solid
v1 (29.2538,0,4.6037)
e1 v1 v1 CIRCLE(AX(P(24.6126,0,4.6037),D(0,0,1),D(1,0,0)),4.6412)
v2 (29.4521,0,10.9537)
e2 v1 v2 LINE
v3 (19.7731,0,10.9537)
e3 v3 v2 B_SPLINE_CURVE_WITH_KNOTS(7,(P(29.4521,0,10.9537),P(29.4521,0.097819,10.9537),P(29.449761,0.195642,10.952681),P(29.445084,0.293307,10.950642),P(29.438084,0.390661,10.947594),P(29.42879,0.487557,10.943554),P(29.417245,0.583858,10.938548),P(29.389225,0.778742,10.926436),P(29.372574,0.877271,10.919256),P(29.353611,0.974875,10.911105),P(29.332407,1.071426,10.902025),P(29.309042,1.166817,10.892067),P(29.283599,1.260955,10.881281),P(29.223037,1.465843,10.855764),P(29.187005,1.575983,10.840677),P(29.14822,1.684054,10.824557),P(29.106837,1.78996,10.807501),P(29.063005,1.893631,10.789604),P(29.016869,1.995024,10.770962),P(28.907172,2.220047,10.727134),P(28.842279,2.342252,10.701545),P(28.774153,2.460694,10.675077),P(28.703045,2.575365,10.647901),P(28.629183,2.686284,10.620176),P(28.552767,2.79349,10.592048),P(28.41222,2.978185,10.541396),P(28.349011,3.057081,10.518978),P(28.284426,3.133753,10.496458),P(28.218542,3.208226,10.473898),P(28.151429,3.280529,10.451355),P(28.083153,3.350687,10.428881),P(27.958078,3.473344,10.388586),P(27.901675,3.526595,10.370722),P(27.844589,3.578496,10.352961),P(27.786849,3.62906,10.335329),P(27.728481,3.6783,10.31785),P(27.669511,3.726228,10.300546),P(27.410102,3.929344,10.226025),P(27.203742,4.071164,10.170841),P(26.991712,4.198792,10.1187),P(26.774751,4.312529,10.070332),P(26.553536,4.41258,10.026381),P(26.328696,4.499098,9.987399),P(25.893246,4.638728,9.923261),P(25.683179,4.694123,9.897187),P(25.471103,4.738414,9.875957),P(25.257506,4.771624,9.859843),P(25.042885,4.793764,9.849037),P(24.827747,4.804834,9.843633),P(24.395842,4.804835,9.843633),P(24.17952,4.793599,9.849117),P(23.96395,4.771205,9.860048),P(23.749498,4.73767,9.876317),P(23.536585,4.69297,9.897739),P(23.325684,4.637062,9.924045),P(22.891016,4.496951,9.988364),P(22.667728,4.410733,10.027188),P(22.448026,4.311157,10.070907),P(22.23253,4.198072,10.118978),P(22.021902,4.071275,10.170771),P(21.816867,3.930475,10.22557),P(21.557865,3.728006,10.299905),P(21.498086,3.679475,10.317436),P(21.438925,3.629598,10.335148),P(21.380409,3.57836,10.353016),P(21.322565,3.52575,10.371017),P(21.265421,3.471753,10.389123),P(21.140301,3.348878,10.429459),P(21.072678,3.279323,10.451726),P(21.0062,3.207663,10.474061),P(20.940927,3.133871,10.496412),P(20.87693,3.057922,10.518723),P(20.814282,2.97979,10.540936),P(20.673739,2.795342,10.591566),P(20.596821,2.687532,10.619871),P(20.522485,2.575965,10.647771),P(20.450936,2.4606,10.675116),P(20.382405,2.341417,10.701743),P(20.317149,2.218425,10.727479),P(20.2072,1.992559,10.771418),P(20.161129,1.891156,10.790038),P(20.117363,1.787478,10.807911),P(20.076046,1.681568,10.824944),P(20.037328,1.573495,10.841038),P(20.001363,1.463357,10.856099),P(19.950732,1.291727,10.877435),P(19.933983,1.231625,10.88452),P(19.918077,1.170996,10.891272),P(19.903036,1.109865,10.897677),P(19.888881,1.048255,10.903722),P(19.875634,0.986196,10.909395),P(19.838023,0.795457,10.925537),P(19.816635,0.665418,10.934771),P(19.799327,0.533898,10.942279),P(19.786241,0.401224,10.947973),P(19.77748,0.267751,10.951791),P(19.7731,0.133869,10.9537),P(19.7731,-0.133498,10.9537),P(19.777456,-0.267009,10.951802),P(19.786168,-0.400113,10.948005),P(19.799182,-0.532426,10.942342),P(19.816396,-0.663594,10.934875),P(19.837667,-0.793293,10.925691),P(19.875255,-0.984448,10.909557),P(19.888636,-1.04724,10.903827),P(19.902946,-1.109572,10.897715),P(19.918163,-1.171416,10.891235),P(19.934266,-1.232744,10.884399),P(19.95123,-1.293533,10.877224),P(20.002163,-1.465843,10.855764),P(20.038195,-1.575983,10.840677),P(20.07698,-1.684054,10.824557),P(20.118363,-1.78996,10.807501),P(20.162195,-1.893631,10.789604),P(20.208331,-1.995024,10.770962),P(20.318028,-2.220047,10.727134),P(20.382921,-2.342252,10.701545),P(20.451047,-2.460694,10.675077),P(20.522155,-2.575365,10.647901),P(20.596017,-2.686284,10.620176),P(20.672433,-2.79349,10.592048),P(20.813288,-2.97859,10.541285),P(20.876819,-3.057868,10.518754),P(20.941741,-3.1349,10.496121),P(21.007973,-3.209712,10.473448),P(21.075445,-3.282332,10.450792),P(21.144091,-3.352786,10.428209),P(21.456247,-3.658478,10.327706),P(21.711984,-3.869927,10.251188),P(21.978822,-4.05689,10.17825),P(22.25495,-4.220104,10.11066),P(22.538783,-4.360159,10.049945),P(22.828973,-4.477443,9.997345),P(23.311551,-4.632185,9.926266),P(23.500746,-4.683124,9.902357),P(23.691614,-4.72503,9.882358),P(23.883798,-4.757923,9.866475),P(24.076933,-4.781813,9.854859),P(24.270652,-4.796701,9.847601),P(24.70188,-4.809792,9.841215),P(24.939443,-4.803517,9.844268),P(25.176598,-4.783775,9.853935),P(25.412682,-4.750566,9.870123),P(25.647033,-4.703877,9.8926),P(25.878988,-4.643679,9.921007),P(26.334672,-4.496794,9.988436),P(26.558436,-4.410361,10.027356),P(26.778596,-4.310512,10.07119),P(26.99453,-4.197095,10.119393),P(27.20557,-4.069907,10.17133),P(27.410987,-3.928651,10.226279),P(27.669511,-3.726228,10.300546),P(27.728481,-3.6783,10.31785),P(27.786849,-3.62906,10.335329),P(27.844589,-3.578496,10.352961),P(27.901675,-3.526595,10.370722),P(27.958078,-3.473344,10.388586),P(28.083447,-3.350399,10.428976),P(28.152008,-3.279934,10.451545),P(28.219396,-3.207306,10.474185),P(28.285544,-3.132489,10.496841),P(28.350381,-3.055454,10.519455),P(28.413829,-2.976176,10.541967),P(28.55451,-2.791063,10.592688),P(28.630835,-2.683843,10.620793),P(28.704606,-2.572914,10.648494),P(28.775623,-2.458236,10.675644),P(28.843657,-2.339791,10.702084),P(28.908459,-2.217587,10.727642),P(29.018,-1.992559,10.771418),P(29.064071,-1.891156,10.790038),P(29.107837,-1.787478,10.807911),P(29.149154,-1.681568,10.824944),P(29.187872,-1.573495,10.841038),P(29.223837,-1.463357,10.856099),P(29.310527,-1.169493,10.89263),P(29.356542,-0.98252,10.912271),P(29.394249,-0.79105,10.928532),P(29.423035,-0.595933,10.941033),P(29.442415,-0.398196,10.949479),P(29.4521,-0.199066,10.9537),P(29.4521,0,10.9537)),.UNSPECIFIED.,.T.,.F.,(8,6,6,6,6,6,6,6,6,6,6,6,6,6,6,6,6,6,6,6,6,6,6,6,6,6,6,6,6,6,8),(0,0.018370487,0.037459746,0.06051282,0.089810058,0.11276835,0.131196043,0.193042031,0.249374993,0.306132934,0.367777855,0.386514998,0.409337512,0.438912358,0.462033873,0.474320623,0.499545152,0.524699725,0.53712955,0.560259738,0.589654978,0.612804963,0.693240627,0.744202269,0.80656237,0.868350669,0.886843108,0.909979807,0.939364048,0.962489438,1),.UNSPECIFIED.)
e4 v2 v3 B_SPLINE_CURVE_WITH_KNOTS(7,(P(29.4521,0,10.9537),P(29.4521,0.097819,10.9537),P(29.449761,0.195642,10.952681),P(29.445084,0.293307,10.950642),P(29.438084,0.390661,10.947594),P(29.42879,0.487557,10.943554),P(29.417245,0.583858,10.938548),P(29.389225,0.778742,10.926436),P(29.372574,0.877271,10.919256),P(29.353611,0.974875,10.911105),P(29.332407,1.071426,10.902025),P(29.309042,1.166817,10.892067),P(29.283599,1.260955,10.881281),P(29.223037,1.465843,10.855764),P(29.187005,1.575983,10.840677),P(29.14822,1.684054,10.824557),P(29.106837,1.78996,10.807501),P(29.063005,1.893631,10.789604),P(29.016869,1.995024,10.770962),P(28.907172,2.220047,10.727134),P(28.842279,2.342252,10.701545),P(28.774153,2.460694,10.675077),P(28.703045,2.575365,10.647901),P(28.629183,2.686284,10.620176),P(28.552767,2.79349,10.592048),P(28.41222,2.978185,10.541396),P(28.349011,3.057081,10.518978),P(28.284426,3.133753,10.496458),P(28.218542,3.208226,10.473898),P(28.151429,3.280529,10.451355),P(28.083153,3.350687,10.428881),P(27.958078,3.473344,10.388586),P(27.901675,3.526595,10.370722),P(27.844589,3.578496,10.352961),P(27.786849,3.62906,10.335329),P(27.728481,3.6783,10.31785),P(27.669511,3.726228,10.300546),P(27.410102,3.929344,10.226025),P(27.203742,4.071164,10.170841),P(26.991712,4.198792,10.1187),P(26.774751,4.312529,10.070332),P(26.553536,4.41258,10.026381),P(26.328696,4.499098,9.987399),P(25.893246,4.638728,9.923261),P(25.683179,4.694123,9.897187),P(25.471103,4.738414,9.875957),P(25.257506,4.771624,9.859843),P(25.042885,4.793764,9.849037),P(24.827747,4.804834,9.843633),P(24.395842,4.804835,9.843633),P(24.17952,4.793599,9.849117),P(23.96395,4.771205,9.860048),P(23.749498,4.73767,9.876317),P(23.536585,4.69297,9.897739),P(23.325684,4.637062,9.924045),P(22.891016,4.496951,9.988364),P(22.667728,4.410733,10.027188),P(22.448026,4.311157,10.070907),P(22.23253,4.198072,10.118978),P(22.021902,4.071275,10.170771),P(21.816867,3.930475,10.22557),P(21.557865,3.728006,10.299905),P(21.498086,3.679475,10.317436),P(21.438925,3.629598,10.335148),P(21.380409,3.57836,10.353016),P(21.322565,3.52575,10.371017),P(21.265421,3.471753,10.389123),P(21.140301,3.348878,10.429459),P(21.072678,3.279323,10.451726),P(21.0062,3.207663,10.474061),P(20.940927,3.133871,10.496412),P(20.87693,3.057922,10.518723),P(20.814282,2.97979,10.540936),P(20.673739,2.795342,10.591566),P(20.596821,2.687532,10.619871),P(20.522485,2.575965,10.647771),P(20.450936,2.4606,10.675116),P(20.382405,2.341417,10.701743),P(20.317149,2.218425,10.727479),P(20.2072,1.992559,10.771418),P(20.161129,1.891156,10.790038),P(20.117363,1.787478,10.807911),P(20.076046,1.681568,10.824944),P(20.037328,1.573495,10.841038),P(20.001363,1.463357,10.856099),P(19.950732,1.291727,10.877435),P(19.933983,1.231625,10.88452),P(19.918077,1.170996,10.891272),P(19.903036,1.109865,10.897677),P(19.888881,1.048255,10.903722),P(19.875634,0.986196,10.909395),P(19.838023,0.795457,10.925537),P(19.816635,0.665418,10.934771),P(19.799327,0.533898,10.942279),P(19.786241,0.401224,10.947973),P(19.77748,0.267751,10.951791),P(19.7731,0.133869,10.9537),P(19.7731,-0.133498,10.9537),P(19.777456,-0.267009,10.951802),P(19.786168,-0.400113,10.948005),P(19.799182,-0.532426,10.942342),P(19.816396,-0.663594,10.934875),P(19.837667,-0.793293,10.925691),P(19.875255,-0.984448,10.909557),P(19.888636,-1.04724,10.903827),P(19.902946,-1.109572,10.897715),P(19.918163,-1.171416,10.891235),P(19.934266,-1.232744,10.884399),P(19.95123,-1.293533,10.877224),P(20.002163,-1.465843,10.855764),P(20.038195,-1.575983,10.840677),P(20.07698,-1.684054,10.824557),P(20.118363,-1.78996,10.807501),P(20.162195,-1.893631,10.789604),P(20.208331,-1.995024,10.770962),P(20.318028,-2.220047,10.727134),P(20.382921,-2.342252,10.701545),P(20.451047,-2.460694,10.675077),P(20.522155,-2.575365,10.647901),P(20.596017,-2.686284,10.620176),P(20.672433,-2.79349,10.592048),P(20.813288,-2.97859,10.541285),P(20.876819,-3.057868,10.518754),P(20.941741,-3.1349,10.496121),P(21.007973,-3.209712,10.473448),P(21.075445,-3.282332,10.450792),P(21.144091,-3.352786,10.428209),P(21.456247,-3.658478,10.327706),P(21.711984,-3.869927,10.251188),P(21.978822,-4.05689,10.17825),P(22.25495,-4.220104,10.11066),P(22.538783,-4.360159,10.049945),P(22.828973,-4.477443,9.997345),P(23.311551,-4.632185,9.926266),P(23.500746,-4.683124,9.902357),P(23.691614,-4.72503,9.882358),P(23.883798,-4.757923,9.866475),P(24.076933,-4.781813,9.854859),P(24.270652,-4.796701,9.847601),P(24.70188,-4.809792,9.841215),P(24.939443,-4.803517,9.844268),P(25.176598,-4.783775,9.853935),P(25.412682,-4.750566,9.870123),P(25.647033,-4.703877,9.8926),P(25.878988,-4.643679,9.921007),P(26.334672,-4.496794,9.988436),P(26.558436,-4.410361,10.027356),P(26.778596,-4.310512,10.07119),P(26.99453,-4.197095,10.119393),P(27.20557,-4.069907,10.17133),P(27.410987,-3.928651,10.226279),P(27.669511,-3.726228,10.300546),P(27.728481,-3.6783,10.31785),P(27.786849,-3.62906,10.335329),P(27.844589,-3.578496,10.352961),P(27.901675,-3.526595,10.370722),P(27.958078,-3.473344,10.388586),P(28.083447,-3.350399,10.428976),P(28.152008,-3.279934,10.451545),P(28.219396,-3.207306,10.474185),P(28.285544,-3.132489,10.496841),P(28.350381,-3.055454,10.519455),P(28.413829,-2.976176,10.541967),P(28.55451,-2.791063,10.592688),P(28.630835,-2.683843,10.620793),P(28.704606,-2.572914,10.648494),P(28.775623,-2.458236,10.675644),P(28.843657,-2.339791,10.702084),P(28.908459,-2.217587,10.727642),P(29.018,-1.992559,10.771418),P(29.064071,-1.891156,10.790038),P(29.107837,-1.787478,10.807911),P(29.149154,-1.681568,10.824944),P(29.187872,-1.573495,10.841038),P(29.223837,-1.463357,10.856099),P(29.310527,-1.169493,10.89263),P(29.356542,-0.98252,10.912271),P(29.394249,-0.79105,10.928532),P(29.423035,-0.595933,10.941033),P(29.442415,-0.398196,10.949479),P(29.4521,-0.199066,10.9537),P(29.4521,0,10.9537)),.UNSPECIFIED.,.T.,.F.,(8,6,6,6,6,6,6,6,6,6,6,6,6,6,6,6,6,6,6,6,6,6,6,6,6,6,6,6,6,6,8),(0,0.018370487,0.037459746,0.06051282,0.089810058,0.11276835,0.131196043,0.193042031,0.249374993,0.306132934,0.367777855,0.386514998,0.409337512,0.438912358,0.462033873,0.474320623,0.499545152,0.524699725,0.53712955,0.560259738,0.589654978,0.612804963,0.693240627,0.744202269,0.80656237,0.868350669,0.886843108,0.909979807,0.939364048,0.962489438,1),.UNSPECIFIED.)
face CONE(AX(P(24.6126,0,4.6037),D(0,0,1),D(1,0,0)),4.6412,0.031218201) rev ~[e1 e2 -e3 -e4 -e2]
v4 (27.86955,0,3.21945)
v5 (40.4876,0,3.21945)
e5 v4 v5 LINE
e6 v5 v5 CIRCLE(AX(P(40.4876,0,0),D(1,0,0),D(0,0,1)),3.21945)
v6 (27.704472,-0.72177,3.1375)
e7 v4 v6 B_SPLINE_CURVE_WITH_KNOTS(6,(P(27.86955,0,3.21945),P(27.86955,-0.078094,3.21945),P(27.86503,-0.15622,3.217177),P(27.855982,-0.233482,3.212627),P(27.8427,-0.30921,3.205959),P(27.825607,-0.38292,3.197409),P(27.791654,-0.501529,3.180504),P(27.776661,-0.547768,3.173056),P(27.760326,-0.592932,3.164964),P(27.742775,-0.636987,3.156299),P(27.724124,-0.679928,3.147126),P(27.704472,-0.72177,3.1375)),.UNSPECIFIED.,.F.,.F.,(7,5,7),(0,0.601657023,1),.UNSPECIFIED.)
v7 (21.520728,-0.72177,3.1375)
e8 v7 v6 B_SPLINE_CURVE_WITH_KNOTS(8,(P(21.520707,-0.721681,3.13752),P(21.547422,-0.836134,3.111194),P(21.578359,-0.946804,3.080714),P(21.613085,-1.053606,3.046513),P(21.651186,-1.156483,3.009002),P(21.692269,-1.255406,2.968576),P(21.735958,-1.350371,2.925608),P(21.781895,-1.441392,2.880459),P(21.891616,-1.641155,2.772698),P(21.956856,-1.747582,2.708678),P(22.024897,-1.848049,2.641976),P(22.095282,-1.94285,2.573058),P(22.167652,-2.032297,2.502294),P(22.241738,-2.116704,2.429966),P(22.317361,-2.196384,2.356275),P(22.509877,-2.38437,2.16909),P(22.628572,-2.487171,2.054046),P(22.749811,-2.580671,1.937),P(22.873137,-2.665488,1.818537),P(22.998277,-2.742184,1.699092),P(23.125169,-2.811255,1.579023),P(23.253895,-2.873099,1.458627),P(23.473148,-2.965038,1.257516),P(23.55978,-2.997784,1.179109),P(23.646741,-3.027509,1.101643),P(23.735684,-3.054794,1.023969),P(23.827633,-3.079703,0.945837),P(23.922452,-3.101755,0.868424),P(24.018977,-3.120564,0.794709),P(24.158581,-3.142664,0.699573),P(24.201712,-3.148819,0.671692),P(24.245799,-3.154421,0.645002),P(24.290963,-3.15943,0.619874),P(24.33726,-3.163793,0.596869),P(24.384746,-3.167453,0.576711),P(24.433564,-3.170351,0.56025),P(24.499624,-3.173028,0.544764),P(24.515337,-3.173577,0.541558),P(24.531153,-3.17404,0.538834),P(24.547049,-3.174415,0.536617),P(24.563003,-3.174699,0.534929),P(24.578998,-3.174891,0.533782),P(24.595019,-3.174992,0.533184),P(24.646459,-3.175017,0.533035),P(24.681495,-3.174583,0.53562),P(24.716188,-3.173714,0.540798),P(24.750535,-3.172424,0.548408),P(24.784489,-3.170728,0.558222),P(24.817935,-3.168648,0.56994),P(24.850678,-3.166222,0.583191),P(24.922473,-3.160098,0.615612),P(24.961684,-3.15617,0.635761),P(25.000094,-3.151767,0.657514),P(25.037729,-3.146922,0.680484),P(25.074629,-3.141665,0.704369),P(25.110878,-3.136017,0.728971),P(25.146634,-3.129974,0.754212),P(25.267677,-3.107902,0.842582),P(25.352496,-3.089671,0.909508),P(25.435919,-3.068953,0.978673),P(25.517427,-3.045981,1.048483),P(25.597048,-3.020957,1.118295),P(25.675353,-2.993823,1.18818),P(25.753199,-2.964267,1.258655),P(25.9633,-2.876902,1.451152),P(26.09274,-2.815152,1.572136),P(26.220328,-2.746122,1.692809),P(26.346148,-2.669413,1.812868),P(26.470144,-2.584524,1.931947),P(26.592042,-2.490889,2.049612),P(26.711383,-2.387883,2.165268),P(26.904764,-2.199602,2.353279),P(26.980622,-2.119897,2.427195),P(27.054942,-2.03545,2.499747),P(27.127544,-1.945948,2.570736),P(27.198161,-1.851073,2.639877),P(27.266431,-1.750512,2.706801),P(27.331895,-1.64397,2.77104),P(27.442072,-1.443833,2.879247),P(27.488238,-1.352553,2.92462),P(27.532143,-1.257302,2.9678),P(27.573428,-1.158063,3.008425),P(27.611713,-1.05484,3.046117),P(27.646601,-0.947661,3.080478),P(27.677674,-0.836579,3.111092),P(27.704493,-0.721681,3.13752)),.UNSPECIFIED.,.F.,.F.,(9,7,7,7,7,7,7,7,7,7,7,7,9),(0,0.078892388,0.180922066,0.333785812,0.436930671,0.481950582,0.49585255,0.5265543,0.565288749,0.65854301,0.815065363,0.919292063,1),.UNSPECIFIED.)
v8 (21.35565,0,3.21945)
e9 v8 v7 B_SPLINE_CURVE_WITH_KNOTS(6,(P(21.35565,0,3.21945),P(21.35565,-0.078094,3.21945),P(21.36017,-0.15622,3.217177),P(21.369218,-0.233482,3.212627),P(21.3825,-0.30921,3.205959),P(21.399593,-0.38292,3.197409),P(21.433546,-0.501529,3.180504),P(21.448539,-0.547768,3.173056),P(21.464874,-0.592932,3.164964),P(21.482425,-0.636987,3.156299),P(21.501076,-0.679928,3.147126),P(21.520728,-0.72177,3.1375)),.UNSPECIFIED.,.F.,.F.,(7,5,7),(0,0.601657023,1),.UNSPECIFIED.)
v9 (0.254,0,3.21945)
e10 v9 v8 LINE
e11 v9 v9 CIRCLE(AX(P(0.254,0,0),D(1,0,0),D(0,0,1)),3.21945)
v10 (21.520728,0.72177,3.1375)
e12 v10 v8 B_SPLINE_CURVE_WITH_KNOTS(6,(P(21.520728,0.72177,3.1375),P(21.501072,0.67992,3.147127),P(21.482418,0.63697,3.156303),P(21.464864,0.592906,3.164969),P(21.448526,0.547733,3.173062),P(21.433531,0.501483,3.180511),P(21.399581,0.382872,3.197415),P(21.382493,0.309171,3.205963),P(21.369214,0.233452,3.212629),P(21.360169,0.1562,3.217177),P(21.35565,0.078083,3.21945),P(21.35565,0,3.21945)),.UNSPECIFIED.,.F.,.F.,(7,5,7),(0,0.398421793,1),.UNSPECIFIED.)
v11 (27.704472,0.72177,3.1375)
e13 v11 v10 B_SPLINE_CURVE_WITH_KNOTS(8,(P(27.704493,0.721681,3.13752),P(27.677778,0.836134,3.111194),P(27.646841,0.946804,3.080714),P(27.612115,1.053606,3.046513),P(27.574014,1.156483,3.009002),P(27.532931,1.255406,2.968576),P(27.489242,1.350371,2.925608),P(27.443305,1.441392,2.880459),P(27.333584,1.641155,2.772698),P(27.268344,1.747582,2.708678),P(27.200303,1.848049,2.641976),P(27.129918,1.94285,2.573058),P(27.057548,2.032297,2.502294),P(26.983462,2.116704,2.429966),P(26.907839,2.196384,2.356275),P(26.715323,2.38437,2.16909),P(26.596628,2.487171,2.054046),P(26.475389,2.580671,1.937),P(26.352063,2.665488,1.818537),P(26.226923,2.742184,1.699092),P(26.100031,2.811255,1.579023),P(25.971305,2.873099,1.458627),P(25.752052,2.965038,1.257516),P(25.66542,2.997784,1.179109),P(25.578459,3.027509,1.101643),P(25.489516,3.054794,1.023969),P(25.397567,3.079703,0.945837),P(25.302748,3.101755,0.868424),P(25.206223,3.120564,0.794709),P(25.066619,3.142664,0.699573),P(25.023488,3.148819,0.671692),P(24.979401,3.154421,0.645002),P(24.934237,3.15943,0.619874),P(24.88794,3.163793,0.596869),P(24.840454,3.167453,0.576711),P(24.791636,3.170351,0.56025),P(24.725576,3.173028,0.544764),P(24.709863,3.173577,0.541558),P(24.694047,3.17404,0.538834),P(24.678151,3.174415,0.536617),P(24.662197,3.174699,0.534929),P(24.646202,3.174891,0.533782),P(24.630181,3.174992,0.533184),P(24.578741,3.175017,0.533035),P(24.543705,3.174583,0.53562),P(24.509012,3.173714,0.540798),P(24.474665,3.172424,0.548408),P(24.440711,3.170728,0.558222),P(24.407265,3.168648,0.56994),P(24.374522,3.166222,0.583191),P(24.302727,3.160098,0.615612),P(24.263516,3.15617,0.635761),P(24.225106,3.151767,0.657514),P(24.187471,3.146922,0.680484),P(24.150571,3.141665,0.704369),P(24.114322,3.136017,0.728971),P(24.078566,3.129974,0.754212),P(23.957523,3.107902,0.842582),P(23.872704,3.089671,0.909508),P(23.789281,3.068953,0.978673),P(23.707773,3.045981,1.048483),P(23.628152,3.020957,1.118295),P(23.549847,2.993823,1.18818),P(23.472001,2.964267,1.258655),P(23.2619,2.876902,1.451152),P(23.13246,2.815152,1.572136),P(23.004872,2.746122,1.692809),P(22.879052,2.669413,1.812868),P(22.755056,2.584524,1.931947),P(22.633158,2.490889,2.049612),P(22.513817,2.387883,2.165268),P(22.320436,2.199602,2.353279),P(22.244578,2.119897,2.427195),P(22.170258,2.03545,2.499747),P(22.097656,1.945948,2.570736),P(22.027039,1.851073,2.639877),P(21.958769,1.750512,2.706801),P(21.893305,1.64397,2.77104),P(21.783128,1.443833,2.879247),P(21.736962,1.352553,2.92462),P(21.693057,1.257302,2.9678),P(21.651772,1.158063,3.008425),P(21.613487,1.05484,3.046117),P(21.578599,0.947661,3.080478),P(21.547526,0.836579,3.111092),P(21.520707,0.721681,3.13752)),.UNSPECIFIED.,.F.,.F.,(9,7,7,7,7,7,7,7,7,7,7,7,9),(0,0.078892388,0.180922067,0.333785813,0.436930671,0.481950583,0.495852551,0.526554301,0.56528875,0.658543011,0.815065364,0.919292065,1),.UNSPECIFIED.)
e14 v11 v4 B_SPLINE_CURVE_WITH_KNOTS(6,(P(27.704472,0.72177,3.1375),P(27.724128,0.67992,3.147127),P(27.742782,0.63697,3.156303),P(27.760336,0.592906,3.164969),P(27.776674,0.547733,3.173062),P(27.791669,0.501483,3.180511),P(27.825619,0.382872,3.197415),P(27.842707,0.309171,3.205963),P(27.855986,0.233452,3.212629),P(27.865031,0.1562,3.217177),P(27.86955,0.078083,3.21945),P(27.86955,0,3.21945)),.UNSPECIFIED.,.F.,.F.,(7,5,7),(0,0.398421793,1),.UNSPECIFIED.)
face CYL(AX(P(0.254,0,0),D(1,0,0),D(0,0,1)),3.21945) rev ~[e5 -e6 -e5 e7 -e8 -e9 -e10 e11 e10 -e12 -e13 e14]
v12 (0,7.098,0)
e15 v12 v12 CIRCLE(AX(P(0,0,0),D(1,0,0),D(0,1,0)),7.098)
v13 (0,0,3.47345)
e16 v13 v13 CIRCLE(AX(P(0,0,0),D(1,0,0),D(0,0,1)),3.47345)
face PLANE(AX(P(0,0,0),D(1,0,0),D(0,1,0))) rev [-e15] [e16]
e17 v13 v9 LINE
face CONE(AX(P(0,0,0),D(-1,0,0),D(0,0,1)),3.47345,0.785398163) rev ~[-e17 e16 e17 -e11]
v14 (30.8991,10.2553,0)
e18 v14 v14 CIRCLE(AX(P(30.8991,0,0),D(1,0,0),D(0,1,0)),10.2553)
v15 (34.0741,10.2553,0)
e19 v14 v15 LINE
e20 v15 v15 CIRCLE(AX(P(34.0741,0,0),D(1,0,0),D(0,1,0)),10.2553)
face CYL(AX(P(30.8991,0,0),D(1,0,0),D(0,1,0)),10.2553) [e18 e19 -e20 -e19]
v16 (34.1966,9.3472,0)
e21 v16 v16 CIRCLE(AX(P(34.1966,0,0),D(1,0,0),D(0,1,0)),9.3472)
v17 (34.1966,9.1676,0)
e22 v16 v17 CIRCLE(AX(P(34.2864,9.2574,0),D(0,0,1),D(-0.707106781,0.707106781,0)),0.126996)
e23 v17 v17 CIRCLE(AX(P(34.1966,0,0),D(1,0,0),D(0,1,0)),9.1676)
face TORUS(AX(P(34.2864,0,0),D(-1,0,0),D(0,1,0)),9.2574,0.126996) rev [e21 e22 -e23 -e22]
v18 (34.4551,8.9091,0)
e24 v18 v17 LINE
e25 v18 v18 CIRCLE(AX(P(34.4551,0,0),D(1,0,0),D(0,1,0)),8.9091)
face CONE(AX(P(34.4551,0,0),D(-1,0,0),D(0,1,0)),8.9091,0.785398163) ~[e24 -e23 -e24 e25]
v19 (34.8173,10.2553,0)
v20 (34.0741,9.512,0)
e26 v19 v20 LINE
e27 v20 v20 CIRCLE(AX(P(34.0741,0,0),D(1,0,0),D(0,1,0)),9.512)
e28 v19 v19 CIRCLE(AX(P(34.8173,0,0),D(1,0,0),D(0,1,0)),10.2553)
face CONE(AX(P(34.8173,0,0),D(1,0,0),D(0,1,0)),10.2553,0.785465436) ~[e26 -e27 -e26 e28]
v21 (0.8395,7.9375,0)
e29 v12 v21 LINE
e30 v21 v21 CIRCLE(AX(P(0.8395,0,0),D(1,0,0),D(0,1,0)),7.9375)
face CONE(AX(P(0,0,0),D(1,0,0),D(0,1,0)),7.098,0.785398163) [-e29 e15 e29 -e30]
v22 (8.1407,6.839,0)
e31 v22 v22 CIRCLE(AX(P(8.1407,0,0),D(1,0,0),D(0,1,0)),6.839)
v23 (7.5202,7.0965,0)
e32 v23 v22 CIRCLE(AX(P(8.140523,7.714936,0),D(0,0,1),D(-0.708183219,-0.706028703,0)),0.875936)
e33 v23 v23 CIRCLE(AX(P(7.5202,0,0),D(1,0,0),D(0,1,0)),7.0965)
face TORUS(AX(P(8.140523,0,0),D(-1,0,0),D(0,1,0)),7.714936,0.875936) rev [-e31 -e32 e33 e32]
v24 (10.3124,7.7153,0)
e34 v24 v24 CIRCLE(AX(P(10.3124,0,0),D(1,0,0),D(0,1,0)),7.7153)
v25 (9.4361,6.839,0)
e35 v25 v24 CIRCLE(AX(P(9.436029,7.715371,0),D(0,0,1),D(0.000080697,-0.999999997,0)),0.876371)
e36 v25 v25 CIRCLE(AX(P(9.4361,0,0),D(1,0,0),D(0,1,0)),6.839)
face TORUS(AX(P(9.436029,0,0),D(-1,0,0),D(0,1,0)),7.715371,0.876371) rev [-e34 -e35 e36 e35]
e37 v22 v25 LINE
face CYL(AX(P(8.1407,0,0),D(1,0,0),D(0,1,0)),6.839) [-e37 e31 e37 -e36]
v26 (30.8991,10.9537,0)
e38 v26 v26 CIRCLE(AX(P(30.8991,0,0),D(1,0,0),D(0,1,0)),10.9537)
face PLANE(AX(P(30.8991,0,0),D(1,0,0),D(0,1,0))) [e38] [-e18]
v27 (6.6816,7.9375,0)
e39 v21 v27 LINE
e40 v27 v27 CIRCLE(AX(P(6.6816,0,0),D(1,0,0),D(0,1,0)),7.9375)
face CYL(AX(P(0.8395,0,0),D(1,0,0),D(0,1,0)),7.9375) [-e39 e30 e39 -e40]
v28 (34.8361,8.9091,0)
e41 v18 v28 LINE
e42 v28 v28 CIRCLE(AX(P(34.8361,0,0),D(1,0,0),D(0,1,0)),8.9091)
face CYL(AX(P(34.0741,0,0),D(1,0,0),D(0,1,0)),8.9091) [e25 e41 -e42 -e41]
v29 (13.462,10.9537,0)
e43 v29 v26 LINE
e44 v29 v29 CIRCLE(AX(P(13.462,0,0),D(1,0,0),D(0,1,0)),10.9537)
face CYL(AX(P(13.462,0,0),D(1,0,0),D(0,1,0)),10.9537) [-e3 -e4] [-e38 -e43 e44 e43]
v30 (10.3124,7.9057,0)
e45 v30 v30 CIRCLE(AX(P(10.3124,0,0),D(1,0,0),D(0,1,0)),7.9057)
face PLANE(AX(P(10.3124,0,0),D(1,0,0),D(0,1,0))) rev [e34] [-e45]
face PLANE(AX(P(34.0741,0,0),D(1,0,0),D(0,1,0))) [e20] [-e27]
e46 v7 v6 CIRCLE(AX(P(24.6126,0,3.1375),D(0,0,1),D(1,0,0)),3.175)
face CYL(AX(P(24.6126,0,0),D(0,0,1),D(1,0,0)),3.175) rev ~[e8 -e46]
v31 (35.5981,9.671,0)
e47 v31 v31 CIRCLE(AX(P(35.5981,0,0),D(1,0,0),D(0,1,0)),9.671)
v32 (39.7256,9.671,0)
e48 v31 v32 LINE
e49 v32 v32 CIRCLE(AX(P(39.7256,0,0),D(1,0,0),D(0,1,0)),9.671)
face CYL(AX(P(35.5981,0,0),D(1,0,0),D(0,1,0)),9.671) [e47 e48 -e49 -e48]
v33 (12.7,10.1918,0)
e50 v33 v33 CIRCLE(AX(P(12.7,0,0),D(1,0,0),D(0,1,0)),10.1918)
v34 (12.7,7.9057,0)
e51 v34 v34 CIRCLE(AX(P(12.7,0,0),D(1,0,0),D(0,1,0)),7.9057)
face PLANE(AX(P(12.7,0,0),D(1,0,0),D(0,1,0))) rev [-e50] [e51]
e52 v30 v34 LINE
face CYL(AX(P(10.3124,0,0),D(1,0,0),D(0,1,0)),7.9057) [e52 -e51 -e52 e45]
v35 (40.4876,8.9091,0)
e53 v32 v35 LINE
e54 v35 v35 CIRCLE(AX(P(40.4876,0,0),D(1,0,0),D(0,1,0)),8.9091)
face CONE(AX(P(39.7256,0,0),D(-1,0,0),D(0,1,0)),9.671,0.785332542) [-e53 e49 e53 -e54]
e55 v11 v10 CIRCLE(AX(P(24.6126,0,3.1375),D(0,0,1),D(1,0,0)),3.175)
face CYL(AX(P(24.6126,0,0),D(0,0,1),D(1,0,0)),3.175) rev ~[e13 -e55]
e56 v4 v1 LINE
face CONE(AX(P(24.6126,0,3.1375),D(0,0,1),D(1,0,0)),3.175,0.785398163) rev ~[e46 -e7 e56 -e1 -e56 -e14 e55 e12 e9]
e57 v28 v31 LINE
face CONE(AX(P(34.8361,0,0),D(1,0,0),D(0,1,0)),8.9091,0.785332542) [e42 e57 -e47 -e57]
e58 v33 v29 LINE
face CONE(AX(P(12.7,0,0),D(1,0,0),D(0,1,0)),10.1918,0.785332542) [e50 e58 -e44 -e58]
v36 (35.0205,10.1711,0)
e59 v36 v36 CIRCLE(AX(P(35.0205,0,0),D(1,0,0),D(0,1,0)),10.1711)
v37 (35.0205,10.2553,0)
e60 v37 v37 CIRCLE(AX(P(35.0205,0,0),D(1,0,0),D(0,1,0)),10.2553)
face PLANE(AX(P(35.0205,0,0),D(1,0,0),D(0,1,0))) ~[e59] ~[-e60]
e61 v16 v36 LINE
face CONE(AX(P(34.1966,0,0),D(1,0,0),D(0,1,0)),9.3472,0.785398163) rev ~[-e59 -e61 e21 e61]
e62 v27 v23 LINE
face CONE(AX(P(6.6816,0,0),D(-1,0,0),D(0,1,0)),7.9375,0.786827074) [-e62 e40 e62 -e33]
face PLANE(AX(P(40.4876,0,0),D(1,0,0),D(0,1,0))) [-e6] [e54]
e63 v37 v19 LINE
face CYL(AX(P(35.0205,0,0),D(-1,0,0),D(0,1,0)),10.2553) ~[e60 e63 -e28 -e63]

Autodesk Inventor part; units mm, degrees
sketch "Sketch_2" plane through (0, 0, 0) normal (0, 0, 1) x (1, 0, 0)
  line L0 (12.7, 0) -> (0, 0)
  line L1 (0, 0) -> (0, 7.098)
  line L2 (0, 7.098) -> (0.8395, 7.9375)
  line L3 (0.8395, 7.9375) -> (6.6816, 7.9375)
  line L4 (6.6816, 7.9375) -> (7.5202, 7.0965)
  arc A0 (7.5202, 7.0965) -> (8.1407, 6.839) centre (8.1407, 7.7152) ccw
  line L5 (8.1407, 6.839) -> (9.4361, 6.839)
  arc A1 (9.4361, 6.839) -> (10.3124, 7.7153) centre (9.4361, 7.7152) ccw
  line L6 (10.3124, 7.7153) -> (10.3124, 7.9057)
  line L7 (10.3124, 7.9057) -> (12.7, 7.9057)
  line L8 (12.7, 7.9057) -> (12.7, 0)
  line L9 (12.7, 0) -> (0, 0)
revolve "Revolution1" add sketch "Sketch_2" angle 360 about axis through (12.7, 0, 0) along (1, 0, 0)
thread "Thread1" size "5/8-18 UNF" class "2A" standard "ANSI Unified Screw Threads" full length
sketch "Sketch_3" plane through (0, 0, 0) normal (0, 0, 1) x (1, 0, 0)
  line L0 (40.4876, 0) -> (12.7, 0)
  line L1 (12.7, 0) -> (12.7, 10.1918)
  line L2 (12.7, 10.1918) -> (13.462, 10.9537)
  line L3 (13.462, 10.9537) -> (34.0741, 10.9537)
  line L4 (34.0741, 10.9537) -> (34.0741, 8.9091)
  line L5 (34.0741, 8.9091) -> (34.8361, 8.9091)
  line L6 (34.8361, 8.9091) -> (35.5981, 9.671)
  line L7 (35.5981, 9.671) -> (39.7256, 9.671)
  line L8 (39.7256, 9.671) -> (40.4876, 8.9091)
  line L9 (40.4876, 8.9091) -> (40.4876, 0)
  line L10 (40.4876, 0) -> (12.7, 0)
revolve "Revolution2" add sketch "Sketch_3" angle 360 about axis through (40.4876, 0, 0) along (1, 0, 0)
sketch "Sketch3" plane through (0, 0, 0) normal (-1, 0, 0) x (0, 0, 1)
  point P0 (0, 0)
hole "Hole1" at (0, 0, 0) direction (1, 0, 0) diameter 6.4389 depth 40.4876 countersink diameter 6.9469 countersink angle 90
sketch "Sketch_10" plane through (0, 0, 0) normal (0, 0, 1) x (1, 0, 0)
  line L0 (34.0741, 0) -> (30.8991, 0)
  line L1 (30.8991, 10.2553) -> (34.0741, 10.2553)
  line L2 (34.0741, 10.2553) -> (34.0741, 15.3353)
  line L3 (34.0741, 15.3353) -> (30.8991, 15.3353)
  line L4 (30.8991, 15.3353) -> (30.8991, 10.2553)
revolve "Revolution3" cut sketch "Sketch_10" angle 360 about axis through (34.0741, 0, 0) along (1, 0, 0)
sketch "Sketch_40" plane through (0, 0, 0) normal (0, 1, 0) x (-1, 0, 0)
  line L0 (-24.6126, 10.9537) -> (-24.6126, 0)
  line L1 (-24.6126, 0) -> (-27.7876, 0)
  line L2 (-27.7876, 0) -> (-27.7876, 3.1375)
  line L3 (-27.7876, 3.1375) -> (-29.2538, 4.6037)
  line L4 (-29.2538, 4.6037) -> (-29.4521, 10.9537)
  line L5 (-29.4521, 10.9537) -> (-24.6126, 10.9537)
  line L6 (-24.6126, 10.9537) -> (-24.6126, 0)
revolve "Revolution4" cut sketch "Sketch_40" angle 360 about axis through (24.6126, 0, 10.9537) along (0, 0, 1)
sketch "Sketch_47" plane through (0, 0, 0) normal (0, 0, 1) x (1, 0, 0)
  line L0 (34.8361, 0) -> (34.0741, 0)
  line L1 (34.0741, 8.655) -> (34.8361, 8.655)
  line L2 (34.8361, 8.655) -> (34.8361, 8.9091)
  line L3 (34.8361, 8.9091) -> (34.4551, 8.9091)
  line L4 (34.4551, 8.9091) -> (34.1966, 9.1676)
  arc A0 (34.1966, 9.3472) -> (34.1966, 9.1676) centre (34.2864, 9.2574) ccw
  line L5 (34.1966, 9.3472) -> (35.0205, 10.1711)
  line L6 (35.0205, 10.1711) -> (35.0205, 10.2553)
  line L7 (35.0205, 10.2553) -> (34.8173, 10.2553)
  line L8 (34.8173, 10.2553) -> (34.0741, 9.512)
  line L9 (34.0741, 9.512) -> (34.0741, 8.655)
revolve "Revolution5" add sketch "Sketch_47" angle 360 about axis through (34.8361, 0, 0) along (1, 0, 0)
ref_plane "dp1_XY" through (12.7, 7.9057, 0) normal (0, 0, 1) x (1, 0, 0)
ref_plane "dp1_YZ" through (12.7, 7.9057, 0) normal (1, 0, 0) x (0, 1, 0)
ref_plane "dp1_ZX" through (12.7, 7.9057, 0) normal (0, 1, 0) x (0, 0, 1)
ref_plane "dp2_XY" through (12.7, -7.9057, 0) normal (0, 0, 1) x (1, 0, 0)
ref_plane "dp2_YZ" through (12.7, -7.9057, 0) normal (1, 0, 0) x (0, 1, 0)
ref_plane "dp2_ZX" through (12.7, -7.9057, 0) normal (0, 1, 0) x (0, 0, 1)
ref_plane "port_XY" through (24.6126, 0, 0) normal (0, 0, 1) x (1, 0, 0)
ref_plane "port_YZ" through (24.6126, 0, 0) normal (1, 0, 0) x (0, 1, 0)
ref_plane "port_ZX" through (24.6126, 0, 0) normal (0, 1, 0) x (0, 0, 1)
ref_plane "rod_guide_XY" through (0, 0, 0) normal (1, 0, 0) x (0, 0, -1)
ref_plane "rod_guide_YZ" through (0, 0, 0) normal (0, 0, -1) x (0, 1, 0)
ref_plane "rod_guide_ZX" through (0, 0, 0) normal (0, 1, 0) x (1, 0, 0)
ref_plane "s1_XY" through (10.3124, 0, 0) normal (0, 0, 1) x (1, 0, 0)
ref_plane "s1_YZ" through (10.3124, 0, 0) normal (1, 0, 0) x (0, 1, 0)
ref_plane "s1_ZX" through (10.3124, 0, 0) normal (0, 1, 0) x (0, 0, 1)
ref_plane "s2_XY" through (12.7, 0, 0) normal (0, 0, 1) x (1, 0, 0)
ref_plane "s2_YZ" through (12.7, 0, 0) normal (1, 0, 0) x (0, 1, 0)
ref_plane "s2_ZX" through (12.7, 0, 0) normal (0, 1, 0) x (0, 0, 1)
ref_plane "t1_XY" through (12.7, 0, 0) normal (1, 0, 0) x (0, 0, -1)
ref_plane "t1_YZ" through (12.7, 0, 0) normal (0, 0, -1) x (0, 1, 0)
ref_plane "t1_ZX" through (12.7, 0, 0) normal (0, 1, 0) x (1, 0, 0)
ref_plane "t111_XY" through (12.7, 0, 0) normal (1, 0, 0) x (0, 0, -1)
ref_plane "t111_YZ" through (12.7, 0, 0) normal (0, 0, -1) x (0, 1, 0)
ref_plane "t111_ZX" through (12.7, 0, 0) normal (0, 1, 0) x (1, 0, 0)
ref_plane "to_foot_bracket_XY" through (12.7, 0, 0) normal (1, 0, 0) x (0, 0, -1)
ref_plane "to_foot_bracket_YZ" through (12.7, 0, 0) normal (0, 0, -1) x (0, 1, 0)
ref_plane "to_foot_bracket_ZX" through (12.7, 0, 0) normal (0, 1, 0) x (1, 0, 0)
ref_plane "to_nut_XY" through (10.3124, 0, 0) normal (1, 0, 0) x (0, 0, -1)
ref_plane "to_nut_YZ" through (10.3124, 0, 0) normal (0, 0, -1) x (0, 1, 0)
ref_plane "to_nut_ZX" through (10.3124, 0, 0) normal (0, 1, 0) x (1, 0, 0)
ref_plane "to_rod_XY" through (0, 0, 0) normal (1, 0, 0) x (0, 0, -1)
ref_plane "to_rod_YZ" through (0, 0, 0) normal (0, 0, -1) x (0, 1, 0)
ref_plane "to_rod_ZX" through (0, 0, 0) normal (0, 1, 0) x (1, 0, 0)
ref_plane "to_screw_XY" through (24.6126, 2.032, -6.0452) normal (0, 1, 0) x (1, 0, 0)
ref_plane "to_screw_YZ" through (24.6126, 2.032, -6.0452) normal (1, 0, 0) x (0, 0, -1)
ref_plane "to_screw_ZX" through (24.6126, 2.032, -6.0452) normal (0, 0, -1) x (0, 1, 0)
ref_plane "to_trunnion_brackets_XY" through (11.1252, 0, 0) normal (0, 1, 0) x (1, 0, 0)
ref_plane "to_trunnion_brackets_YZ" through (11.1252, 0, 0) normal (1, 0, 0) x (0, 0, -1)
ref_plane "to_trunnion_brackets_ZX" through (11.1252, 0, 0) normal (0, 0, -1) x (0, 1, 0)
ref_plane "to_trunnion_brackets1_XY" through (11.1252, 12.7, 0) normal (0, 1, 0) x (1, 0, 0)
ref_plane "to_trunnion_brackets1_YZ" through (11.1252, 12.7, 0) normal (1, 0, 0) x (0, 0, -1)
ref_plane "to_trunnion_brackets1_ZX" through (11.1252, 12.7, 0) normal (0, 0, -1) x (0, 1, 0)
ref_plane "to_trunnion_brackets2_XY" through (11.1252, -12.7, 0) normal (0, 1, 0) x (1, 0, 0)
ref_plane "to_trunnion_brackets2_YZ" through (11.1252, -12.7, 0) normal (1, 0, 0) x (0, 0, -1)
ref_plane "to_trunnion_brackets2_ZX" through (11.1252, -12.7, 0) normal (0, 0, -1) x (0, 1, 0)
ref_plane "to_tube_XY" through (34.8361, 0, 0) normal (1, 0, 0) x (0, 0, -1)
ref_plane "to_tube_YZ" through (34.8361, 0, 0) normal (0, 0, -1) x (0, 1, 0)
ref_plane "to_tube_ZX" through (34.8361, 0, 0) normal (0, 1, 0) x (1, 0, 0)
properties part number "04R000-0_rod_guide"
